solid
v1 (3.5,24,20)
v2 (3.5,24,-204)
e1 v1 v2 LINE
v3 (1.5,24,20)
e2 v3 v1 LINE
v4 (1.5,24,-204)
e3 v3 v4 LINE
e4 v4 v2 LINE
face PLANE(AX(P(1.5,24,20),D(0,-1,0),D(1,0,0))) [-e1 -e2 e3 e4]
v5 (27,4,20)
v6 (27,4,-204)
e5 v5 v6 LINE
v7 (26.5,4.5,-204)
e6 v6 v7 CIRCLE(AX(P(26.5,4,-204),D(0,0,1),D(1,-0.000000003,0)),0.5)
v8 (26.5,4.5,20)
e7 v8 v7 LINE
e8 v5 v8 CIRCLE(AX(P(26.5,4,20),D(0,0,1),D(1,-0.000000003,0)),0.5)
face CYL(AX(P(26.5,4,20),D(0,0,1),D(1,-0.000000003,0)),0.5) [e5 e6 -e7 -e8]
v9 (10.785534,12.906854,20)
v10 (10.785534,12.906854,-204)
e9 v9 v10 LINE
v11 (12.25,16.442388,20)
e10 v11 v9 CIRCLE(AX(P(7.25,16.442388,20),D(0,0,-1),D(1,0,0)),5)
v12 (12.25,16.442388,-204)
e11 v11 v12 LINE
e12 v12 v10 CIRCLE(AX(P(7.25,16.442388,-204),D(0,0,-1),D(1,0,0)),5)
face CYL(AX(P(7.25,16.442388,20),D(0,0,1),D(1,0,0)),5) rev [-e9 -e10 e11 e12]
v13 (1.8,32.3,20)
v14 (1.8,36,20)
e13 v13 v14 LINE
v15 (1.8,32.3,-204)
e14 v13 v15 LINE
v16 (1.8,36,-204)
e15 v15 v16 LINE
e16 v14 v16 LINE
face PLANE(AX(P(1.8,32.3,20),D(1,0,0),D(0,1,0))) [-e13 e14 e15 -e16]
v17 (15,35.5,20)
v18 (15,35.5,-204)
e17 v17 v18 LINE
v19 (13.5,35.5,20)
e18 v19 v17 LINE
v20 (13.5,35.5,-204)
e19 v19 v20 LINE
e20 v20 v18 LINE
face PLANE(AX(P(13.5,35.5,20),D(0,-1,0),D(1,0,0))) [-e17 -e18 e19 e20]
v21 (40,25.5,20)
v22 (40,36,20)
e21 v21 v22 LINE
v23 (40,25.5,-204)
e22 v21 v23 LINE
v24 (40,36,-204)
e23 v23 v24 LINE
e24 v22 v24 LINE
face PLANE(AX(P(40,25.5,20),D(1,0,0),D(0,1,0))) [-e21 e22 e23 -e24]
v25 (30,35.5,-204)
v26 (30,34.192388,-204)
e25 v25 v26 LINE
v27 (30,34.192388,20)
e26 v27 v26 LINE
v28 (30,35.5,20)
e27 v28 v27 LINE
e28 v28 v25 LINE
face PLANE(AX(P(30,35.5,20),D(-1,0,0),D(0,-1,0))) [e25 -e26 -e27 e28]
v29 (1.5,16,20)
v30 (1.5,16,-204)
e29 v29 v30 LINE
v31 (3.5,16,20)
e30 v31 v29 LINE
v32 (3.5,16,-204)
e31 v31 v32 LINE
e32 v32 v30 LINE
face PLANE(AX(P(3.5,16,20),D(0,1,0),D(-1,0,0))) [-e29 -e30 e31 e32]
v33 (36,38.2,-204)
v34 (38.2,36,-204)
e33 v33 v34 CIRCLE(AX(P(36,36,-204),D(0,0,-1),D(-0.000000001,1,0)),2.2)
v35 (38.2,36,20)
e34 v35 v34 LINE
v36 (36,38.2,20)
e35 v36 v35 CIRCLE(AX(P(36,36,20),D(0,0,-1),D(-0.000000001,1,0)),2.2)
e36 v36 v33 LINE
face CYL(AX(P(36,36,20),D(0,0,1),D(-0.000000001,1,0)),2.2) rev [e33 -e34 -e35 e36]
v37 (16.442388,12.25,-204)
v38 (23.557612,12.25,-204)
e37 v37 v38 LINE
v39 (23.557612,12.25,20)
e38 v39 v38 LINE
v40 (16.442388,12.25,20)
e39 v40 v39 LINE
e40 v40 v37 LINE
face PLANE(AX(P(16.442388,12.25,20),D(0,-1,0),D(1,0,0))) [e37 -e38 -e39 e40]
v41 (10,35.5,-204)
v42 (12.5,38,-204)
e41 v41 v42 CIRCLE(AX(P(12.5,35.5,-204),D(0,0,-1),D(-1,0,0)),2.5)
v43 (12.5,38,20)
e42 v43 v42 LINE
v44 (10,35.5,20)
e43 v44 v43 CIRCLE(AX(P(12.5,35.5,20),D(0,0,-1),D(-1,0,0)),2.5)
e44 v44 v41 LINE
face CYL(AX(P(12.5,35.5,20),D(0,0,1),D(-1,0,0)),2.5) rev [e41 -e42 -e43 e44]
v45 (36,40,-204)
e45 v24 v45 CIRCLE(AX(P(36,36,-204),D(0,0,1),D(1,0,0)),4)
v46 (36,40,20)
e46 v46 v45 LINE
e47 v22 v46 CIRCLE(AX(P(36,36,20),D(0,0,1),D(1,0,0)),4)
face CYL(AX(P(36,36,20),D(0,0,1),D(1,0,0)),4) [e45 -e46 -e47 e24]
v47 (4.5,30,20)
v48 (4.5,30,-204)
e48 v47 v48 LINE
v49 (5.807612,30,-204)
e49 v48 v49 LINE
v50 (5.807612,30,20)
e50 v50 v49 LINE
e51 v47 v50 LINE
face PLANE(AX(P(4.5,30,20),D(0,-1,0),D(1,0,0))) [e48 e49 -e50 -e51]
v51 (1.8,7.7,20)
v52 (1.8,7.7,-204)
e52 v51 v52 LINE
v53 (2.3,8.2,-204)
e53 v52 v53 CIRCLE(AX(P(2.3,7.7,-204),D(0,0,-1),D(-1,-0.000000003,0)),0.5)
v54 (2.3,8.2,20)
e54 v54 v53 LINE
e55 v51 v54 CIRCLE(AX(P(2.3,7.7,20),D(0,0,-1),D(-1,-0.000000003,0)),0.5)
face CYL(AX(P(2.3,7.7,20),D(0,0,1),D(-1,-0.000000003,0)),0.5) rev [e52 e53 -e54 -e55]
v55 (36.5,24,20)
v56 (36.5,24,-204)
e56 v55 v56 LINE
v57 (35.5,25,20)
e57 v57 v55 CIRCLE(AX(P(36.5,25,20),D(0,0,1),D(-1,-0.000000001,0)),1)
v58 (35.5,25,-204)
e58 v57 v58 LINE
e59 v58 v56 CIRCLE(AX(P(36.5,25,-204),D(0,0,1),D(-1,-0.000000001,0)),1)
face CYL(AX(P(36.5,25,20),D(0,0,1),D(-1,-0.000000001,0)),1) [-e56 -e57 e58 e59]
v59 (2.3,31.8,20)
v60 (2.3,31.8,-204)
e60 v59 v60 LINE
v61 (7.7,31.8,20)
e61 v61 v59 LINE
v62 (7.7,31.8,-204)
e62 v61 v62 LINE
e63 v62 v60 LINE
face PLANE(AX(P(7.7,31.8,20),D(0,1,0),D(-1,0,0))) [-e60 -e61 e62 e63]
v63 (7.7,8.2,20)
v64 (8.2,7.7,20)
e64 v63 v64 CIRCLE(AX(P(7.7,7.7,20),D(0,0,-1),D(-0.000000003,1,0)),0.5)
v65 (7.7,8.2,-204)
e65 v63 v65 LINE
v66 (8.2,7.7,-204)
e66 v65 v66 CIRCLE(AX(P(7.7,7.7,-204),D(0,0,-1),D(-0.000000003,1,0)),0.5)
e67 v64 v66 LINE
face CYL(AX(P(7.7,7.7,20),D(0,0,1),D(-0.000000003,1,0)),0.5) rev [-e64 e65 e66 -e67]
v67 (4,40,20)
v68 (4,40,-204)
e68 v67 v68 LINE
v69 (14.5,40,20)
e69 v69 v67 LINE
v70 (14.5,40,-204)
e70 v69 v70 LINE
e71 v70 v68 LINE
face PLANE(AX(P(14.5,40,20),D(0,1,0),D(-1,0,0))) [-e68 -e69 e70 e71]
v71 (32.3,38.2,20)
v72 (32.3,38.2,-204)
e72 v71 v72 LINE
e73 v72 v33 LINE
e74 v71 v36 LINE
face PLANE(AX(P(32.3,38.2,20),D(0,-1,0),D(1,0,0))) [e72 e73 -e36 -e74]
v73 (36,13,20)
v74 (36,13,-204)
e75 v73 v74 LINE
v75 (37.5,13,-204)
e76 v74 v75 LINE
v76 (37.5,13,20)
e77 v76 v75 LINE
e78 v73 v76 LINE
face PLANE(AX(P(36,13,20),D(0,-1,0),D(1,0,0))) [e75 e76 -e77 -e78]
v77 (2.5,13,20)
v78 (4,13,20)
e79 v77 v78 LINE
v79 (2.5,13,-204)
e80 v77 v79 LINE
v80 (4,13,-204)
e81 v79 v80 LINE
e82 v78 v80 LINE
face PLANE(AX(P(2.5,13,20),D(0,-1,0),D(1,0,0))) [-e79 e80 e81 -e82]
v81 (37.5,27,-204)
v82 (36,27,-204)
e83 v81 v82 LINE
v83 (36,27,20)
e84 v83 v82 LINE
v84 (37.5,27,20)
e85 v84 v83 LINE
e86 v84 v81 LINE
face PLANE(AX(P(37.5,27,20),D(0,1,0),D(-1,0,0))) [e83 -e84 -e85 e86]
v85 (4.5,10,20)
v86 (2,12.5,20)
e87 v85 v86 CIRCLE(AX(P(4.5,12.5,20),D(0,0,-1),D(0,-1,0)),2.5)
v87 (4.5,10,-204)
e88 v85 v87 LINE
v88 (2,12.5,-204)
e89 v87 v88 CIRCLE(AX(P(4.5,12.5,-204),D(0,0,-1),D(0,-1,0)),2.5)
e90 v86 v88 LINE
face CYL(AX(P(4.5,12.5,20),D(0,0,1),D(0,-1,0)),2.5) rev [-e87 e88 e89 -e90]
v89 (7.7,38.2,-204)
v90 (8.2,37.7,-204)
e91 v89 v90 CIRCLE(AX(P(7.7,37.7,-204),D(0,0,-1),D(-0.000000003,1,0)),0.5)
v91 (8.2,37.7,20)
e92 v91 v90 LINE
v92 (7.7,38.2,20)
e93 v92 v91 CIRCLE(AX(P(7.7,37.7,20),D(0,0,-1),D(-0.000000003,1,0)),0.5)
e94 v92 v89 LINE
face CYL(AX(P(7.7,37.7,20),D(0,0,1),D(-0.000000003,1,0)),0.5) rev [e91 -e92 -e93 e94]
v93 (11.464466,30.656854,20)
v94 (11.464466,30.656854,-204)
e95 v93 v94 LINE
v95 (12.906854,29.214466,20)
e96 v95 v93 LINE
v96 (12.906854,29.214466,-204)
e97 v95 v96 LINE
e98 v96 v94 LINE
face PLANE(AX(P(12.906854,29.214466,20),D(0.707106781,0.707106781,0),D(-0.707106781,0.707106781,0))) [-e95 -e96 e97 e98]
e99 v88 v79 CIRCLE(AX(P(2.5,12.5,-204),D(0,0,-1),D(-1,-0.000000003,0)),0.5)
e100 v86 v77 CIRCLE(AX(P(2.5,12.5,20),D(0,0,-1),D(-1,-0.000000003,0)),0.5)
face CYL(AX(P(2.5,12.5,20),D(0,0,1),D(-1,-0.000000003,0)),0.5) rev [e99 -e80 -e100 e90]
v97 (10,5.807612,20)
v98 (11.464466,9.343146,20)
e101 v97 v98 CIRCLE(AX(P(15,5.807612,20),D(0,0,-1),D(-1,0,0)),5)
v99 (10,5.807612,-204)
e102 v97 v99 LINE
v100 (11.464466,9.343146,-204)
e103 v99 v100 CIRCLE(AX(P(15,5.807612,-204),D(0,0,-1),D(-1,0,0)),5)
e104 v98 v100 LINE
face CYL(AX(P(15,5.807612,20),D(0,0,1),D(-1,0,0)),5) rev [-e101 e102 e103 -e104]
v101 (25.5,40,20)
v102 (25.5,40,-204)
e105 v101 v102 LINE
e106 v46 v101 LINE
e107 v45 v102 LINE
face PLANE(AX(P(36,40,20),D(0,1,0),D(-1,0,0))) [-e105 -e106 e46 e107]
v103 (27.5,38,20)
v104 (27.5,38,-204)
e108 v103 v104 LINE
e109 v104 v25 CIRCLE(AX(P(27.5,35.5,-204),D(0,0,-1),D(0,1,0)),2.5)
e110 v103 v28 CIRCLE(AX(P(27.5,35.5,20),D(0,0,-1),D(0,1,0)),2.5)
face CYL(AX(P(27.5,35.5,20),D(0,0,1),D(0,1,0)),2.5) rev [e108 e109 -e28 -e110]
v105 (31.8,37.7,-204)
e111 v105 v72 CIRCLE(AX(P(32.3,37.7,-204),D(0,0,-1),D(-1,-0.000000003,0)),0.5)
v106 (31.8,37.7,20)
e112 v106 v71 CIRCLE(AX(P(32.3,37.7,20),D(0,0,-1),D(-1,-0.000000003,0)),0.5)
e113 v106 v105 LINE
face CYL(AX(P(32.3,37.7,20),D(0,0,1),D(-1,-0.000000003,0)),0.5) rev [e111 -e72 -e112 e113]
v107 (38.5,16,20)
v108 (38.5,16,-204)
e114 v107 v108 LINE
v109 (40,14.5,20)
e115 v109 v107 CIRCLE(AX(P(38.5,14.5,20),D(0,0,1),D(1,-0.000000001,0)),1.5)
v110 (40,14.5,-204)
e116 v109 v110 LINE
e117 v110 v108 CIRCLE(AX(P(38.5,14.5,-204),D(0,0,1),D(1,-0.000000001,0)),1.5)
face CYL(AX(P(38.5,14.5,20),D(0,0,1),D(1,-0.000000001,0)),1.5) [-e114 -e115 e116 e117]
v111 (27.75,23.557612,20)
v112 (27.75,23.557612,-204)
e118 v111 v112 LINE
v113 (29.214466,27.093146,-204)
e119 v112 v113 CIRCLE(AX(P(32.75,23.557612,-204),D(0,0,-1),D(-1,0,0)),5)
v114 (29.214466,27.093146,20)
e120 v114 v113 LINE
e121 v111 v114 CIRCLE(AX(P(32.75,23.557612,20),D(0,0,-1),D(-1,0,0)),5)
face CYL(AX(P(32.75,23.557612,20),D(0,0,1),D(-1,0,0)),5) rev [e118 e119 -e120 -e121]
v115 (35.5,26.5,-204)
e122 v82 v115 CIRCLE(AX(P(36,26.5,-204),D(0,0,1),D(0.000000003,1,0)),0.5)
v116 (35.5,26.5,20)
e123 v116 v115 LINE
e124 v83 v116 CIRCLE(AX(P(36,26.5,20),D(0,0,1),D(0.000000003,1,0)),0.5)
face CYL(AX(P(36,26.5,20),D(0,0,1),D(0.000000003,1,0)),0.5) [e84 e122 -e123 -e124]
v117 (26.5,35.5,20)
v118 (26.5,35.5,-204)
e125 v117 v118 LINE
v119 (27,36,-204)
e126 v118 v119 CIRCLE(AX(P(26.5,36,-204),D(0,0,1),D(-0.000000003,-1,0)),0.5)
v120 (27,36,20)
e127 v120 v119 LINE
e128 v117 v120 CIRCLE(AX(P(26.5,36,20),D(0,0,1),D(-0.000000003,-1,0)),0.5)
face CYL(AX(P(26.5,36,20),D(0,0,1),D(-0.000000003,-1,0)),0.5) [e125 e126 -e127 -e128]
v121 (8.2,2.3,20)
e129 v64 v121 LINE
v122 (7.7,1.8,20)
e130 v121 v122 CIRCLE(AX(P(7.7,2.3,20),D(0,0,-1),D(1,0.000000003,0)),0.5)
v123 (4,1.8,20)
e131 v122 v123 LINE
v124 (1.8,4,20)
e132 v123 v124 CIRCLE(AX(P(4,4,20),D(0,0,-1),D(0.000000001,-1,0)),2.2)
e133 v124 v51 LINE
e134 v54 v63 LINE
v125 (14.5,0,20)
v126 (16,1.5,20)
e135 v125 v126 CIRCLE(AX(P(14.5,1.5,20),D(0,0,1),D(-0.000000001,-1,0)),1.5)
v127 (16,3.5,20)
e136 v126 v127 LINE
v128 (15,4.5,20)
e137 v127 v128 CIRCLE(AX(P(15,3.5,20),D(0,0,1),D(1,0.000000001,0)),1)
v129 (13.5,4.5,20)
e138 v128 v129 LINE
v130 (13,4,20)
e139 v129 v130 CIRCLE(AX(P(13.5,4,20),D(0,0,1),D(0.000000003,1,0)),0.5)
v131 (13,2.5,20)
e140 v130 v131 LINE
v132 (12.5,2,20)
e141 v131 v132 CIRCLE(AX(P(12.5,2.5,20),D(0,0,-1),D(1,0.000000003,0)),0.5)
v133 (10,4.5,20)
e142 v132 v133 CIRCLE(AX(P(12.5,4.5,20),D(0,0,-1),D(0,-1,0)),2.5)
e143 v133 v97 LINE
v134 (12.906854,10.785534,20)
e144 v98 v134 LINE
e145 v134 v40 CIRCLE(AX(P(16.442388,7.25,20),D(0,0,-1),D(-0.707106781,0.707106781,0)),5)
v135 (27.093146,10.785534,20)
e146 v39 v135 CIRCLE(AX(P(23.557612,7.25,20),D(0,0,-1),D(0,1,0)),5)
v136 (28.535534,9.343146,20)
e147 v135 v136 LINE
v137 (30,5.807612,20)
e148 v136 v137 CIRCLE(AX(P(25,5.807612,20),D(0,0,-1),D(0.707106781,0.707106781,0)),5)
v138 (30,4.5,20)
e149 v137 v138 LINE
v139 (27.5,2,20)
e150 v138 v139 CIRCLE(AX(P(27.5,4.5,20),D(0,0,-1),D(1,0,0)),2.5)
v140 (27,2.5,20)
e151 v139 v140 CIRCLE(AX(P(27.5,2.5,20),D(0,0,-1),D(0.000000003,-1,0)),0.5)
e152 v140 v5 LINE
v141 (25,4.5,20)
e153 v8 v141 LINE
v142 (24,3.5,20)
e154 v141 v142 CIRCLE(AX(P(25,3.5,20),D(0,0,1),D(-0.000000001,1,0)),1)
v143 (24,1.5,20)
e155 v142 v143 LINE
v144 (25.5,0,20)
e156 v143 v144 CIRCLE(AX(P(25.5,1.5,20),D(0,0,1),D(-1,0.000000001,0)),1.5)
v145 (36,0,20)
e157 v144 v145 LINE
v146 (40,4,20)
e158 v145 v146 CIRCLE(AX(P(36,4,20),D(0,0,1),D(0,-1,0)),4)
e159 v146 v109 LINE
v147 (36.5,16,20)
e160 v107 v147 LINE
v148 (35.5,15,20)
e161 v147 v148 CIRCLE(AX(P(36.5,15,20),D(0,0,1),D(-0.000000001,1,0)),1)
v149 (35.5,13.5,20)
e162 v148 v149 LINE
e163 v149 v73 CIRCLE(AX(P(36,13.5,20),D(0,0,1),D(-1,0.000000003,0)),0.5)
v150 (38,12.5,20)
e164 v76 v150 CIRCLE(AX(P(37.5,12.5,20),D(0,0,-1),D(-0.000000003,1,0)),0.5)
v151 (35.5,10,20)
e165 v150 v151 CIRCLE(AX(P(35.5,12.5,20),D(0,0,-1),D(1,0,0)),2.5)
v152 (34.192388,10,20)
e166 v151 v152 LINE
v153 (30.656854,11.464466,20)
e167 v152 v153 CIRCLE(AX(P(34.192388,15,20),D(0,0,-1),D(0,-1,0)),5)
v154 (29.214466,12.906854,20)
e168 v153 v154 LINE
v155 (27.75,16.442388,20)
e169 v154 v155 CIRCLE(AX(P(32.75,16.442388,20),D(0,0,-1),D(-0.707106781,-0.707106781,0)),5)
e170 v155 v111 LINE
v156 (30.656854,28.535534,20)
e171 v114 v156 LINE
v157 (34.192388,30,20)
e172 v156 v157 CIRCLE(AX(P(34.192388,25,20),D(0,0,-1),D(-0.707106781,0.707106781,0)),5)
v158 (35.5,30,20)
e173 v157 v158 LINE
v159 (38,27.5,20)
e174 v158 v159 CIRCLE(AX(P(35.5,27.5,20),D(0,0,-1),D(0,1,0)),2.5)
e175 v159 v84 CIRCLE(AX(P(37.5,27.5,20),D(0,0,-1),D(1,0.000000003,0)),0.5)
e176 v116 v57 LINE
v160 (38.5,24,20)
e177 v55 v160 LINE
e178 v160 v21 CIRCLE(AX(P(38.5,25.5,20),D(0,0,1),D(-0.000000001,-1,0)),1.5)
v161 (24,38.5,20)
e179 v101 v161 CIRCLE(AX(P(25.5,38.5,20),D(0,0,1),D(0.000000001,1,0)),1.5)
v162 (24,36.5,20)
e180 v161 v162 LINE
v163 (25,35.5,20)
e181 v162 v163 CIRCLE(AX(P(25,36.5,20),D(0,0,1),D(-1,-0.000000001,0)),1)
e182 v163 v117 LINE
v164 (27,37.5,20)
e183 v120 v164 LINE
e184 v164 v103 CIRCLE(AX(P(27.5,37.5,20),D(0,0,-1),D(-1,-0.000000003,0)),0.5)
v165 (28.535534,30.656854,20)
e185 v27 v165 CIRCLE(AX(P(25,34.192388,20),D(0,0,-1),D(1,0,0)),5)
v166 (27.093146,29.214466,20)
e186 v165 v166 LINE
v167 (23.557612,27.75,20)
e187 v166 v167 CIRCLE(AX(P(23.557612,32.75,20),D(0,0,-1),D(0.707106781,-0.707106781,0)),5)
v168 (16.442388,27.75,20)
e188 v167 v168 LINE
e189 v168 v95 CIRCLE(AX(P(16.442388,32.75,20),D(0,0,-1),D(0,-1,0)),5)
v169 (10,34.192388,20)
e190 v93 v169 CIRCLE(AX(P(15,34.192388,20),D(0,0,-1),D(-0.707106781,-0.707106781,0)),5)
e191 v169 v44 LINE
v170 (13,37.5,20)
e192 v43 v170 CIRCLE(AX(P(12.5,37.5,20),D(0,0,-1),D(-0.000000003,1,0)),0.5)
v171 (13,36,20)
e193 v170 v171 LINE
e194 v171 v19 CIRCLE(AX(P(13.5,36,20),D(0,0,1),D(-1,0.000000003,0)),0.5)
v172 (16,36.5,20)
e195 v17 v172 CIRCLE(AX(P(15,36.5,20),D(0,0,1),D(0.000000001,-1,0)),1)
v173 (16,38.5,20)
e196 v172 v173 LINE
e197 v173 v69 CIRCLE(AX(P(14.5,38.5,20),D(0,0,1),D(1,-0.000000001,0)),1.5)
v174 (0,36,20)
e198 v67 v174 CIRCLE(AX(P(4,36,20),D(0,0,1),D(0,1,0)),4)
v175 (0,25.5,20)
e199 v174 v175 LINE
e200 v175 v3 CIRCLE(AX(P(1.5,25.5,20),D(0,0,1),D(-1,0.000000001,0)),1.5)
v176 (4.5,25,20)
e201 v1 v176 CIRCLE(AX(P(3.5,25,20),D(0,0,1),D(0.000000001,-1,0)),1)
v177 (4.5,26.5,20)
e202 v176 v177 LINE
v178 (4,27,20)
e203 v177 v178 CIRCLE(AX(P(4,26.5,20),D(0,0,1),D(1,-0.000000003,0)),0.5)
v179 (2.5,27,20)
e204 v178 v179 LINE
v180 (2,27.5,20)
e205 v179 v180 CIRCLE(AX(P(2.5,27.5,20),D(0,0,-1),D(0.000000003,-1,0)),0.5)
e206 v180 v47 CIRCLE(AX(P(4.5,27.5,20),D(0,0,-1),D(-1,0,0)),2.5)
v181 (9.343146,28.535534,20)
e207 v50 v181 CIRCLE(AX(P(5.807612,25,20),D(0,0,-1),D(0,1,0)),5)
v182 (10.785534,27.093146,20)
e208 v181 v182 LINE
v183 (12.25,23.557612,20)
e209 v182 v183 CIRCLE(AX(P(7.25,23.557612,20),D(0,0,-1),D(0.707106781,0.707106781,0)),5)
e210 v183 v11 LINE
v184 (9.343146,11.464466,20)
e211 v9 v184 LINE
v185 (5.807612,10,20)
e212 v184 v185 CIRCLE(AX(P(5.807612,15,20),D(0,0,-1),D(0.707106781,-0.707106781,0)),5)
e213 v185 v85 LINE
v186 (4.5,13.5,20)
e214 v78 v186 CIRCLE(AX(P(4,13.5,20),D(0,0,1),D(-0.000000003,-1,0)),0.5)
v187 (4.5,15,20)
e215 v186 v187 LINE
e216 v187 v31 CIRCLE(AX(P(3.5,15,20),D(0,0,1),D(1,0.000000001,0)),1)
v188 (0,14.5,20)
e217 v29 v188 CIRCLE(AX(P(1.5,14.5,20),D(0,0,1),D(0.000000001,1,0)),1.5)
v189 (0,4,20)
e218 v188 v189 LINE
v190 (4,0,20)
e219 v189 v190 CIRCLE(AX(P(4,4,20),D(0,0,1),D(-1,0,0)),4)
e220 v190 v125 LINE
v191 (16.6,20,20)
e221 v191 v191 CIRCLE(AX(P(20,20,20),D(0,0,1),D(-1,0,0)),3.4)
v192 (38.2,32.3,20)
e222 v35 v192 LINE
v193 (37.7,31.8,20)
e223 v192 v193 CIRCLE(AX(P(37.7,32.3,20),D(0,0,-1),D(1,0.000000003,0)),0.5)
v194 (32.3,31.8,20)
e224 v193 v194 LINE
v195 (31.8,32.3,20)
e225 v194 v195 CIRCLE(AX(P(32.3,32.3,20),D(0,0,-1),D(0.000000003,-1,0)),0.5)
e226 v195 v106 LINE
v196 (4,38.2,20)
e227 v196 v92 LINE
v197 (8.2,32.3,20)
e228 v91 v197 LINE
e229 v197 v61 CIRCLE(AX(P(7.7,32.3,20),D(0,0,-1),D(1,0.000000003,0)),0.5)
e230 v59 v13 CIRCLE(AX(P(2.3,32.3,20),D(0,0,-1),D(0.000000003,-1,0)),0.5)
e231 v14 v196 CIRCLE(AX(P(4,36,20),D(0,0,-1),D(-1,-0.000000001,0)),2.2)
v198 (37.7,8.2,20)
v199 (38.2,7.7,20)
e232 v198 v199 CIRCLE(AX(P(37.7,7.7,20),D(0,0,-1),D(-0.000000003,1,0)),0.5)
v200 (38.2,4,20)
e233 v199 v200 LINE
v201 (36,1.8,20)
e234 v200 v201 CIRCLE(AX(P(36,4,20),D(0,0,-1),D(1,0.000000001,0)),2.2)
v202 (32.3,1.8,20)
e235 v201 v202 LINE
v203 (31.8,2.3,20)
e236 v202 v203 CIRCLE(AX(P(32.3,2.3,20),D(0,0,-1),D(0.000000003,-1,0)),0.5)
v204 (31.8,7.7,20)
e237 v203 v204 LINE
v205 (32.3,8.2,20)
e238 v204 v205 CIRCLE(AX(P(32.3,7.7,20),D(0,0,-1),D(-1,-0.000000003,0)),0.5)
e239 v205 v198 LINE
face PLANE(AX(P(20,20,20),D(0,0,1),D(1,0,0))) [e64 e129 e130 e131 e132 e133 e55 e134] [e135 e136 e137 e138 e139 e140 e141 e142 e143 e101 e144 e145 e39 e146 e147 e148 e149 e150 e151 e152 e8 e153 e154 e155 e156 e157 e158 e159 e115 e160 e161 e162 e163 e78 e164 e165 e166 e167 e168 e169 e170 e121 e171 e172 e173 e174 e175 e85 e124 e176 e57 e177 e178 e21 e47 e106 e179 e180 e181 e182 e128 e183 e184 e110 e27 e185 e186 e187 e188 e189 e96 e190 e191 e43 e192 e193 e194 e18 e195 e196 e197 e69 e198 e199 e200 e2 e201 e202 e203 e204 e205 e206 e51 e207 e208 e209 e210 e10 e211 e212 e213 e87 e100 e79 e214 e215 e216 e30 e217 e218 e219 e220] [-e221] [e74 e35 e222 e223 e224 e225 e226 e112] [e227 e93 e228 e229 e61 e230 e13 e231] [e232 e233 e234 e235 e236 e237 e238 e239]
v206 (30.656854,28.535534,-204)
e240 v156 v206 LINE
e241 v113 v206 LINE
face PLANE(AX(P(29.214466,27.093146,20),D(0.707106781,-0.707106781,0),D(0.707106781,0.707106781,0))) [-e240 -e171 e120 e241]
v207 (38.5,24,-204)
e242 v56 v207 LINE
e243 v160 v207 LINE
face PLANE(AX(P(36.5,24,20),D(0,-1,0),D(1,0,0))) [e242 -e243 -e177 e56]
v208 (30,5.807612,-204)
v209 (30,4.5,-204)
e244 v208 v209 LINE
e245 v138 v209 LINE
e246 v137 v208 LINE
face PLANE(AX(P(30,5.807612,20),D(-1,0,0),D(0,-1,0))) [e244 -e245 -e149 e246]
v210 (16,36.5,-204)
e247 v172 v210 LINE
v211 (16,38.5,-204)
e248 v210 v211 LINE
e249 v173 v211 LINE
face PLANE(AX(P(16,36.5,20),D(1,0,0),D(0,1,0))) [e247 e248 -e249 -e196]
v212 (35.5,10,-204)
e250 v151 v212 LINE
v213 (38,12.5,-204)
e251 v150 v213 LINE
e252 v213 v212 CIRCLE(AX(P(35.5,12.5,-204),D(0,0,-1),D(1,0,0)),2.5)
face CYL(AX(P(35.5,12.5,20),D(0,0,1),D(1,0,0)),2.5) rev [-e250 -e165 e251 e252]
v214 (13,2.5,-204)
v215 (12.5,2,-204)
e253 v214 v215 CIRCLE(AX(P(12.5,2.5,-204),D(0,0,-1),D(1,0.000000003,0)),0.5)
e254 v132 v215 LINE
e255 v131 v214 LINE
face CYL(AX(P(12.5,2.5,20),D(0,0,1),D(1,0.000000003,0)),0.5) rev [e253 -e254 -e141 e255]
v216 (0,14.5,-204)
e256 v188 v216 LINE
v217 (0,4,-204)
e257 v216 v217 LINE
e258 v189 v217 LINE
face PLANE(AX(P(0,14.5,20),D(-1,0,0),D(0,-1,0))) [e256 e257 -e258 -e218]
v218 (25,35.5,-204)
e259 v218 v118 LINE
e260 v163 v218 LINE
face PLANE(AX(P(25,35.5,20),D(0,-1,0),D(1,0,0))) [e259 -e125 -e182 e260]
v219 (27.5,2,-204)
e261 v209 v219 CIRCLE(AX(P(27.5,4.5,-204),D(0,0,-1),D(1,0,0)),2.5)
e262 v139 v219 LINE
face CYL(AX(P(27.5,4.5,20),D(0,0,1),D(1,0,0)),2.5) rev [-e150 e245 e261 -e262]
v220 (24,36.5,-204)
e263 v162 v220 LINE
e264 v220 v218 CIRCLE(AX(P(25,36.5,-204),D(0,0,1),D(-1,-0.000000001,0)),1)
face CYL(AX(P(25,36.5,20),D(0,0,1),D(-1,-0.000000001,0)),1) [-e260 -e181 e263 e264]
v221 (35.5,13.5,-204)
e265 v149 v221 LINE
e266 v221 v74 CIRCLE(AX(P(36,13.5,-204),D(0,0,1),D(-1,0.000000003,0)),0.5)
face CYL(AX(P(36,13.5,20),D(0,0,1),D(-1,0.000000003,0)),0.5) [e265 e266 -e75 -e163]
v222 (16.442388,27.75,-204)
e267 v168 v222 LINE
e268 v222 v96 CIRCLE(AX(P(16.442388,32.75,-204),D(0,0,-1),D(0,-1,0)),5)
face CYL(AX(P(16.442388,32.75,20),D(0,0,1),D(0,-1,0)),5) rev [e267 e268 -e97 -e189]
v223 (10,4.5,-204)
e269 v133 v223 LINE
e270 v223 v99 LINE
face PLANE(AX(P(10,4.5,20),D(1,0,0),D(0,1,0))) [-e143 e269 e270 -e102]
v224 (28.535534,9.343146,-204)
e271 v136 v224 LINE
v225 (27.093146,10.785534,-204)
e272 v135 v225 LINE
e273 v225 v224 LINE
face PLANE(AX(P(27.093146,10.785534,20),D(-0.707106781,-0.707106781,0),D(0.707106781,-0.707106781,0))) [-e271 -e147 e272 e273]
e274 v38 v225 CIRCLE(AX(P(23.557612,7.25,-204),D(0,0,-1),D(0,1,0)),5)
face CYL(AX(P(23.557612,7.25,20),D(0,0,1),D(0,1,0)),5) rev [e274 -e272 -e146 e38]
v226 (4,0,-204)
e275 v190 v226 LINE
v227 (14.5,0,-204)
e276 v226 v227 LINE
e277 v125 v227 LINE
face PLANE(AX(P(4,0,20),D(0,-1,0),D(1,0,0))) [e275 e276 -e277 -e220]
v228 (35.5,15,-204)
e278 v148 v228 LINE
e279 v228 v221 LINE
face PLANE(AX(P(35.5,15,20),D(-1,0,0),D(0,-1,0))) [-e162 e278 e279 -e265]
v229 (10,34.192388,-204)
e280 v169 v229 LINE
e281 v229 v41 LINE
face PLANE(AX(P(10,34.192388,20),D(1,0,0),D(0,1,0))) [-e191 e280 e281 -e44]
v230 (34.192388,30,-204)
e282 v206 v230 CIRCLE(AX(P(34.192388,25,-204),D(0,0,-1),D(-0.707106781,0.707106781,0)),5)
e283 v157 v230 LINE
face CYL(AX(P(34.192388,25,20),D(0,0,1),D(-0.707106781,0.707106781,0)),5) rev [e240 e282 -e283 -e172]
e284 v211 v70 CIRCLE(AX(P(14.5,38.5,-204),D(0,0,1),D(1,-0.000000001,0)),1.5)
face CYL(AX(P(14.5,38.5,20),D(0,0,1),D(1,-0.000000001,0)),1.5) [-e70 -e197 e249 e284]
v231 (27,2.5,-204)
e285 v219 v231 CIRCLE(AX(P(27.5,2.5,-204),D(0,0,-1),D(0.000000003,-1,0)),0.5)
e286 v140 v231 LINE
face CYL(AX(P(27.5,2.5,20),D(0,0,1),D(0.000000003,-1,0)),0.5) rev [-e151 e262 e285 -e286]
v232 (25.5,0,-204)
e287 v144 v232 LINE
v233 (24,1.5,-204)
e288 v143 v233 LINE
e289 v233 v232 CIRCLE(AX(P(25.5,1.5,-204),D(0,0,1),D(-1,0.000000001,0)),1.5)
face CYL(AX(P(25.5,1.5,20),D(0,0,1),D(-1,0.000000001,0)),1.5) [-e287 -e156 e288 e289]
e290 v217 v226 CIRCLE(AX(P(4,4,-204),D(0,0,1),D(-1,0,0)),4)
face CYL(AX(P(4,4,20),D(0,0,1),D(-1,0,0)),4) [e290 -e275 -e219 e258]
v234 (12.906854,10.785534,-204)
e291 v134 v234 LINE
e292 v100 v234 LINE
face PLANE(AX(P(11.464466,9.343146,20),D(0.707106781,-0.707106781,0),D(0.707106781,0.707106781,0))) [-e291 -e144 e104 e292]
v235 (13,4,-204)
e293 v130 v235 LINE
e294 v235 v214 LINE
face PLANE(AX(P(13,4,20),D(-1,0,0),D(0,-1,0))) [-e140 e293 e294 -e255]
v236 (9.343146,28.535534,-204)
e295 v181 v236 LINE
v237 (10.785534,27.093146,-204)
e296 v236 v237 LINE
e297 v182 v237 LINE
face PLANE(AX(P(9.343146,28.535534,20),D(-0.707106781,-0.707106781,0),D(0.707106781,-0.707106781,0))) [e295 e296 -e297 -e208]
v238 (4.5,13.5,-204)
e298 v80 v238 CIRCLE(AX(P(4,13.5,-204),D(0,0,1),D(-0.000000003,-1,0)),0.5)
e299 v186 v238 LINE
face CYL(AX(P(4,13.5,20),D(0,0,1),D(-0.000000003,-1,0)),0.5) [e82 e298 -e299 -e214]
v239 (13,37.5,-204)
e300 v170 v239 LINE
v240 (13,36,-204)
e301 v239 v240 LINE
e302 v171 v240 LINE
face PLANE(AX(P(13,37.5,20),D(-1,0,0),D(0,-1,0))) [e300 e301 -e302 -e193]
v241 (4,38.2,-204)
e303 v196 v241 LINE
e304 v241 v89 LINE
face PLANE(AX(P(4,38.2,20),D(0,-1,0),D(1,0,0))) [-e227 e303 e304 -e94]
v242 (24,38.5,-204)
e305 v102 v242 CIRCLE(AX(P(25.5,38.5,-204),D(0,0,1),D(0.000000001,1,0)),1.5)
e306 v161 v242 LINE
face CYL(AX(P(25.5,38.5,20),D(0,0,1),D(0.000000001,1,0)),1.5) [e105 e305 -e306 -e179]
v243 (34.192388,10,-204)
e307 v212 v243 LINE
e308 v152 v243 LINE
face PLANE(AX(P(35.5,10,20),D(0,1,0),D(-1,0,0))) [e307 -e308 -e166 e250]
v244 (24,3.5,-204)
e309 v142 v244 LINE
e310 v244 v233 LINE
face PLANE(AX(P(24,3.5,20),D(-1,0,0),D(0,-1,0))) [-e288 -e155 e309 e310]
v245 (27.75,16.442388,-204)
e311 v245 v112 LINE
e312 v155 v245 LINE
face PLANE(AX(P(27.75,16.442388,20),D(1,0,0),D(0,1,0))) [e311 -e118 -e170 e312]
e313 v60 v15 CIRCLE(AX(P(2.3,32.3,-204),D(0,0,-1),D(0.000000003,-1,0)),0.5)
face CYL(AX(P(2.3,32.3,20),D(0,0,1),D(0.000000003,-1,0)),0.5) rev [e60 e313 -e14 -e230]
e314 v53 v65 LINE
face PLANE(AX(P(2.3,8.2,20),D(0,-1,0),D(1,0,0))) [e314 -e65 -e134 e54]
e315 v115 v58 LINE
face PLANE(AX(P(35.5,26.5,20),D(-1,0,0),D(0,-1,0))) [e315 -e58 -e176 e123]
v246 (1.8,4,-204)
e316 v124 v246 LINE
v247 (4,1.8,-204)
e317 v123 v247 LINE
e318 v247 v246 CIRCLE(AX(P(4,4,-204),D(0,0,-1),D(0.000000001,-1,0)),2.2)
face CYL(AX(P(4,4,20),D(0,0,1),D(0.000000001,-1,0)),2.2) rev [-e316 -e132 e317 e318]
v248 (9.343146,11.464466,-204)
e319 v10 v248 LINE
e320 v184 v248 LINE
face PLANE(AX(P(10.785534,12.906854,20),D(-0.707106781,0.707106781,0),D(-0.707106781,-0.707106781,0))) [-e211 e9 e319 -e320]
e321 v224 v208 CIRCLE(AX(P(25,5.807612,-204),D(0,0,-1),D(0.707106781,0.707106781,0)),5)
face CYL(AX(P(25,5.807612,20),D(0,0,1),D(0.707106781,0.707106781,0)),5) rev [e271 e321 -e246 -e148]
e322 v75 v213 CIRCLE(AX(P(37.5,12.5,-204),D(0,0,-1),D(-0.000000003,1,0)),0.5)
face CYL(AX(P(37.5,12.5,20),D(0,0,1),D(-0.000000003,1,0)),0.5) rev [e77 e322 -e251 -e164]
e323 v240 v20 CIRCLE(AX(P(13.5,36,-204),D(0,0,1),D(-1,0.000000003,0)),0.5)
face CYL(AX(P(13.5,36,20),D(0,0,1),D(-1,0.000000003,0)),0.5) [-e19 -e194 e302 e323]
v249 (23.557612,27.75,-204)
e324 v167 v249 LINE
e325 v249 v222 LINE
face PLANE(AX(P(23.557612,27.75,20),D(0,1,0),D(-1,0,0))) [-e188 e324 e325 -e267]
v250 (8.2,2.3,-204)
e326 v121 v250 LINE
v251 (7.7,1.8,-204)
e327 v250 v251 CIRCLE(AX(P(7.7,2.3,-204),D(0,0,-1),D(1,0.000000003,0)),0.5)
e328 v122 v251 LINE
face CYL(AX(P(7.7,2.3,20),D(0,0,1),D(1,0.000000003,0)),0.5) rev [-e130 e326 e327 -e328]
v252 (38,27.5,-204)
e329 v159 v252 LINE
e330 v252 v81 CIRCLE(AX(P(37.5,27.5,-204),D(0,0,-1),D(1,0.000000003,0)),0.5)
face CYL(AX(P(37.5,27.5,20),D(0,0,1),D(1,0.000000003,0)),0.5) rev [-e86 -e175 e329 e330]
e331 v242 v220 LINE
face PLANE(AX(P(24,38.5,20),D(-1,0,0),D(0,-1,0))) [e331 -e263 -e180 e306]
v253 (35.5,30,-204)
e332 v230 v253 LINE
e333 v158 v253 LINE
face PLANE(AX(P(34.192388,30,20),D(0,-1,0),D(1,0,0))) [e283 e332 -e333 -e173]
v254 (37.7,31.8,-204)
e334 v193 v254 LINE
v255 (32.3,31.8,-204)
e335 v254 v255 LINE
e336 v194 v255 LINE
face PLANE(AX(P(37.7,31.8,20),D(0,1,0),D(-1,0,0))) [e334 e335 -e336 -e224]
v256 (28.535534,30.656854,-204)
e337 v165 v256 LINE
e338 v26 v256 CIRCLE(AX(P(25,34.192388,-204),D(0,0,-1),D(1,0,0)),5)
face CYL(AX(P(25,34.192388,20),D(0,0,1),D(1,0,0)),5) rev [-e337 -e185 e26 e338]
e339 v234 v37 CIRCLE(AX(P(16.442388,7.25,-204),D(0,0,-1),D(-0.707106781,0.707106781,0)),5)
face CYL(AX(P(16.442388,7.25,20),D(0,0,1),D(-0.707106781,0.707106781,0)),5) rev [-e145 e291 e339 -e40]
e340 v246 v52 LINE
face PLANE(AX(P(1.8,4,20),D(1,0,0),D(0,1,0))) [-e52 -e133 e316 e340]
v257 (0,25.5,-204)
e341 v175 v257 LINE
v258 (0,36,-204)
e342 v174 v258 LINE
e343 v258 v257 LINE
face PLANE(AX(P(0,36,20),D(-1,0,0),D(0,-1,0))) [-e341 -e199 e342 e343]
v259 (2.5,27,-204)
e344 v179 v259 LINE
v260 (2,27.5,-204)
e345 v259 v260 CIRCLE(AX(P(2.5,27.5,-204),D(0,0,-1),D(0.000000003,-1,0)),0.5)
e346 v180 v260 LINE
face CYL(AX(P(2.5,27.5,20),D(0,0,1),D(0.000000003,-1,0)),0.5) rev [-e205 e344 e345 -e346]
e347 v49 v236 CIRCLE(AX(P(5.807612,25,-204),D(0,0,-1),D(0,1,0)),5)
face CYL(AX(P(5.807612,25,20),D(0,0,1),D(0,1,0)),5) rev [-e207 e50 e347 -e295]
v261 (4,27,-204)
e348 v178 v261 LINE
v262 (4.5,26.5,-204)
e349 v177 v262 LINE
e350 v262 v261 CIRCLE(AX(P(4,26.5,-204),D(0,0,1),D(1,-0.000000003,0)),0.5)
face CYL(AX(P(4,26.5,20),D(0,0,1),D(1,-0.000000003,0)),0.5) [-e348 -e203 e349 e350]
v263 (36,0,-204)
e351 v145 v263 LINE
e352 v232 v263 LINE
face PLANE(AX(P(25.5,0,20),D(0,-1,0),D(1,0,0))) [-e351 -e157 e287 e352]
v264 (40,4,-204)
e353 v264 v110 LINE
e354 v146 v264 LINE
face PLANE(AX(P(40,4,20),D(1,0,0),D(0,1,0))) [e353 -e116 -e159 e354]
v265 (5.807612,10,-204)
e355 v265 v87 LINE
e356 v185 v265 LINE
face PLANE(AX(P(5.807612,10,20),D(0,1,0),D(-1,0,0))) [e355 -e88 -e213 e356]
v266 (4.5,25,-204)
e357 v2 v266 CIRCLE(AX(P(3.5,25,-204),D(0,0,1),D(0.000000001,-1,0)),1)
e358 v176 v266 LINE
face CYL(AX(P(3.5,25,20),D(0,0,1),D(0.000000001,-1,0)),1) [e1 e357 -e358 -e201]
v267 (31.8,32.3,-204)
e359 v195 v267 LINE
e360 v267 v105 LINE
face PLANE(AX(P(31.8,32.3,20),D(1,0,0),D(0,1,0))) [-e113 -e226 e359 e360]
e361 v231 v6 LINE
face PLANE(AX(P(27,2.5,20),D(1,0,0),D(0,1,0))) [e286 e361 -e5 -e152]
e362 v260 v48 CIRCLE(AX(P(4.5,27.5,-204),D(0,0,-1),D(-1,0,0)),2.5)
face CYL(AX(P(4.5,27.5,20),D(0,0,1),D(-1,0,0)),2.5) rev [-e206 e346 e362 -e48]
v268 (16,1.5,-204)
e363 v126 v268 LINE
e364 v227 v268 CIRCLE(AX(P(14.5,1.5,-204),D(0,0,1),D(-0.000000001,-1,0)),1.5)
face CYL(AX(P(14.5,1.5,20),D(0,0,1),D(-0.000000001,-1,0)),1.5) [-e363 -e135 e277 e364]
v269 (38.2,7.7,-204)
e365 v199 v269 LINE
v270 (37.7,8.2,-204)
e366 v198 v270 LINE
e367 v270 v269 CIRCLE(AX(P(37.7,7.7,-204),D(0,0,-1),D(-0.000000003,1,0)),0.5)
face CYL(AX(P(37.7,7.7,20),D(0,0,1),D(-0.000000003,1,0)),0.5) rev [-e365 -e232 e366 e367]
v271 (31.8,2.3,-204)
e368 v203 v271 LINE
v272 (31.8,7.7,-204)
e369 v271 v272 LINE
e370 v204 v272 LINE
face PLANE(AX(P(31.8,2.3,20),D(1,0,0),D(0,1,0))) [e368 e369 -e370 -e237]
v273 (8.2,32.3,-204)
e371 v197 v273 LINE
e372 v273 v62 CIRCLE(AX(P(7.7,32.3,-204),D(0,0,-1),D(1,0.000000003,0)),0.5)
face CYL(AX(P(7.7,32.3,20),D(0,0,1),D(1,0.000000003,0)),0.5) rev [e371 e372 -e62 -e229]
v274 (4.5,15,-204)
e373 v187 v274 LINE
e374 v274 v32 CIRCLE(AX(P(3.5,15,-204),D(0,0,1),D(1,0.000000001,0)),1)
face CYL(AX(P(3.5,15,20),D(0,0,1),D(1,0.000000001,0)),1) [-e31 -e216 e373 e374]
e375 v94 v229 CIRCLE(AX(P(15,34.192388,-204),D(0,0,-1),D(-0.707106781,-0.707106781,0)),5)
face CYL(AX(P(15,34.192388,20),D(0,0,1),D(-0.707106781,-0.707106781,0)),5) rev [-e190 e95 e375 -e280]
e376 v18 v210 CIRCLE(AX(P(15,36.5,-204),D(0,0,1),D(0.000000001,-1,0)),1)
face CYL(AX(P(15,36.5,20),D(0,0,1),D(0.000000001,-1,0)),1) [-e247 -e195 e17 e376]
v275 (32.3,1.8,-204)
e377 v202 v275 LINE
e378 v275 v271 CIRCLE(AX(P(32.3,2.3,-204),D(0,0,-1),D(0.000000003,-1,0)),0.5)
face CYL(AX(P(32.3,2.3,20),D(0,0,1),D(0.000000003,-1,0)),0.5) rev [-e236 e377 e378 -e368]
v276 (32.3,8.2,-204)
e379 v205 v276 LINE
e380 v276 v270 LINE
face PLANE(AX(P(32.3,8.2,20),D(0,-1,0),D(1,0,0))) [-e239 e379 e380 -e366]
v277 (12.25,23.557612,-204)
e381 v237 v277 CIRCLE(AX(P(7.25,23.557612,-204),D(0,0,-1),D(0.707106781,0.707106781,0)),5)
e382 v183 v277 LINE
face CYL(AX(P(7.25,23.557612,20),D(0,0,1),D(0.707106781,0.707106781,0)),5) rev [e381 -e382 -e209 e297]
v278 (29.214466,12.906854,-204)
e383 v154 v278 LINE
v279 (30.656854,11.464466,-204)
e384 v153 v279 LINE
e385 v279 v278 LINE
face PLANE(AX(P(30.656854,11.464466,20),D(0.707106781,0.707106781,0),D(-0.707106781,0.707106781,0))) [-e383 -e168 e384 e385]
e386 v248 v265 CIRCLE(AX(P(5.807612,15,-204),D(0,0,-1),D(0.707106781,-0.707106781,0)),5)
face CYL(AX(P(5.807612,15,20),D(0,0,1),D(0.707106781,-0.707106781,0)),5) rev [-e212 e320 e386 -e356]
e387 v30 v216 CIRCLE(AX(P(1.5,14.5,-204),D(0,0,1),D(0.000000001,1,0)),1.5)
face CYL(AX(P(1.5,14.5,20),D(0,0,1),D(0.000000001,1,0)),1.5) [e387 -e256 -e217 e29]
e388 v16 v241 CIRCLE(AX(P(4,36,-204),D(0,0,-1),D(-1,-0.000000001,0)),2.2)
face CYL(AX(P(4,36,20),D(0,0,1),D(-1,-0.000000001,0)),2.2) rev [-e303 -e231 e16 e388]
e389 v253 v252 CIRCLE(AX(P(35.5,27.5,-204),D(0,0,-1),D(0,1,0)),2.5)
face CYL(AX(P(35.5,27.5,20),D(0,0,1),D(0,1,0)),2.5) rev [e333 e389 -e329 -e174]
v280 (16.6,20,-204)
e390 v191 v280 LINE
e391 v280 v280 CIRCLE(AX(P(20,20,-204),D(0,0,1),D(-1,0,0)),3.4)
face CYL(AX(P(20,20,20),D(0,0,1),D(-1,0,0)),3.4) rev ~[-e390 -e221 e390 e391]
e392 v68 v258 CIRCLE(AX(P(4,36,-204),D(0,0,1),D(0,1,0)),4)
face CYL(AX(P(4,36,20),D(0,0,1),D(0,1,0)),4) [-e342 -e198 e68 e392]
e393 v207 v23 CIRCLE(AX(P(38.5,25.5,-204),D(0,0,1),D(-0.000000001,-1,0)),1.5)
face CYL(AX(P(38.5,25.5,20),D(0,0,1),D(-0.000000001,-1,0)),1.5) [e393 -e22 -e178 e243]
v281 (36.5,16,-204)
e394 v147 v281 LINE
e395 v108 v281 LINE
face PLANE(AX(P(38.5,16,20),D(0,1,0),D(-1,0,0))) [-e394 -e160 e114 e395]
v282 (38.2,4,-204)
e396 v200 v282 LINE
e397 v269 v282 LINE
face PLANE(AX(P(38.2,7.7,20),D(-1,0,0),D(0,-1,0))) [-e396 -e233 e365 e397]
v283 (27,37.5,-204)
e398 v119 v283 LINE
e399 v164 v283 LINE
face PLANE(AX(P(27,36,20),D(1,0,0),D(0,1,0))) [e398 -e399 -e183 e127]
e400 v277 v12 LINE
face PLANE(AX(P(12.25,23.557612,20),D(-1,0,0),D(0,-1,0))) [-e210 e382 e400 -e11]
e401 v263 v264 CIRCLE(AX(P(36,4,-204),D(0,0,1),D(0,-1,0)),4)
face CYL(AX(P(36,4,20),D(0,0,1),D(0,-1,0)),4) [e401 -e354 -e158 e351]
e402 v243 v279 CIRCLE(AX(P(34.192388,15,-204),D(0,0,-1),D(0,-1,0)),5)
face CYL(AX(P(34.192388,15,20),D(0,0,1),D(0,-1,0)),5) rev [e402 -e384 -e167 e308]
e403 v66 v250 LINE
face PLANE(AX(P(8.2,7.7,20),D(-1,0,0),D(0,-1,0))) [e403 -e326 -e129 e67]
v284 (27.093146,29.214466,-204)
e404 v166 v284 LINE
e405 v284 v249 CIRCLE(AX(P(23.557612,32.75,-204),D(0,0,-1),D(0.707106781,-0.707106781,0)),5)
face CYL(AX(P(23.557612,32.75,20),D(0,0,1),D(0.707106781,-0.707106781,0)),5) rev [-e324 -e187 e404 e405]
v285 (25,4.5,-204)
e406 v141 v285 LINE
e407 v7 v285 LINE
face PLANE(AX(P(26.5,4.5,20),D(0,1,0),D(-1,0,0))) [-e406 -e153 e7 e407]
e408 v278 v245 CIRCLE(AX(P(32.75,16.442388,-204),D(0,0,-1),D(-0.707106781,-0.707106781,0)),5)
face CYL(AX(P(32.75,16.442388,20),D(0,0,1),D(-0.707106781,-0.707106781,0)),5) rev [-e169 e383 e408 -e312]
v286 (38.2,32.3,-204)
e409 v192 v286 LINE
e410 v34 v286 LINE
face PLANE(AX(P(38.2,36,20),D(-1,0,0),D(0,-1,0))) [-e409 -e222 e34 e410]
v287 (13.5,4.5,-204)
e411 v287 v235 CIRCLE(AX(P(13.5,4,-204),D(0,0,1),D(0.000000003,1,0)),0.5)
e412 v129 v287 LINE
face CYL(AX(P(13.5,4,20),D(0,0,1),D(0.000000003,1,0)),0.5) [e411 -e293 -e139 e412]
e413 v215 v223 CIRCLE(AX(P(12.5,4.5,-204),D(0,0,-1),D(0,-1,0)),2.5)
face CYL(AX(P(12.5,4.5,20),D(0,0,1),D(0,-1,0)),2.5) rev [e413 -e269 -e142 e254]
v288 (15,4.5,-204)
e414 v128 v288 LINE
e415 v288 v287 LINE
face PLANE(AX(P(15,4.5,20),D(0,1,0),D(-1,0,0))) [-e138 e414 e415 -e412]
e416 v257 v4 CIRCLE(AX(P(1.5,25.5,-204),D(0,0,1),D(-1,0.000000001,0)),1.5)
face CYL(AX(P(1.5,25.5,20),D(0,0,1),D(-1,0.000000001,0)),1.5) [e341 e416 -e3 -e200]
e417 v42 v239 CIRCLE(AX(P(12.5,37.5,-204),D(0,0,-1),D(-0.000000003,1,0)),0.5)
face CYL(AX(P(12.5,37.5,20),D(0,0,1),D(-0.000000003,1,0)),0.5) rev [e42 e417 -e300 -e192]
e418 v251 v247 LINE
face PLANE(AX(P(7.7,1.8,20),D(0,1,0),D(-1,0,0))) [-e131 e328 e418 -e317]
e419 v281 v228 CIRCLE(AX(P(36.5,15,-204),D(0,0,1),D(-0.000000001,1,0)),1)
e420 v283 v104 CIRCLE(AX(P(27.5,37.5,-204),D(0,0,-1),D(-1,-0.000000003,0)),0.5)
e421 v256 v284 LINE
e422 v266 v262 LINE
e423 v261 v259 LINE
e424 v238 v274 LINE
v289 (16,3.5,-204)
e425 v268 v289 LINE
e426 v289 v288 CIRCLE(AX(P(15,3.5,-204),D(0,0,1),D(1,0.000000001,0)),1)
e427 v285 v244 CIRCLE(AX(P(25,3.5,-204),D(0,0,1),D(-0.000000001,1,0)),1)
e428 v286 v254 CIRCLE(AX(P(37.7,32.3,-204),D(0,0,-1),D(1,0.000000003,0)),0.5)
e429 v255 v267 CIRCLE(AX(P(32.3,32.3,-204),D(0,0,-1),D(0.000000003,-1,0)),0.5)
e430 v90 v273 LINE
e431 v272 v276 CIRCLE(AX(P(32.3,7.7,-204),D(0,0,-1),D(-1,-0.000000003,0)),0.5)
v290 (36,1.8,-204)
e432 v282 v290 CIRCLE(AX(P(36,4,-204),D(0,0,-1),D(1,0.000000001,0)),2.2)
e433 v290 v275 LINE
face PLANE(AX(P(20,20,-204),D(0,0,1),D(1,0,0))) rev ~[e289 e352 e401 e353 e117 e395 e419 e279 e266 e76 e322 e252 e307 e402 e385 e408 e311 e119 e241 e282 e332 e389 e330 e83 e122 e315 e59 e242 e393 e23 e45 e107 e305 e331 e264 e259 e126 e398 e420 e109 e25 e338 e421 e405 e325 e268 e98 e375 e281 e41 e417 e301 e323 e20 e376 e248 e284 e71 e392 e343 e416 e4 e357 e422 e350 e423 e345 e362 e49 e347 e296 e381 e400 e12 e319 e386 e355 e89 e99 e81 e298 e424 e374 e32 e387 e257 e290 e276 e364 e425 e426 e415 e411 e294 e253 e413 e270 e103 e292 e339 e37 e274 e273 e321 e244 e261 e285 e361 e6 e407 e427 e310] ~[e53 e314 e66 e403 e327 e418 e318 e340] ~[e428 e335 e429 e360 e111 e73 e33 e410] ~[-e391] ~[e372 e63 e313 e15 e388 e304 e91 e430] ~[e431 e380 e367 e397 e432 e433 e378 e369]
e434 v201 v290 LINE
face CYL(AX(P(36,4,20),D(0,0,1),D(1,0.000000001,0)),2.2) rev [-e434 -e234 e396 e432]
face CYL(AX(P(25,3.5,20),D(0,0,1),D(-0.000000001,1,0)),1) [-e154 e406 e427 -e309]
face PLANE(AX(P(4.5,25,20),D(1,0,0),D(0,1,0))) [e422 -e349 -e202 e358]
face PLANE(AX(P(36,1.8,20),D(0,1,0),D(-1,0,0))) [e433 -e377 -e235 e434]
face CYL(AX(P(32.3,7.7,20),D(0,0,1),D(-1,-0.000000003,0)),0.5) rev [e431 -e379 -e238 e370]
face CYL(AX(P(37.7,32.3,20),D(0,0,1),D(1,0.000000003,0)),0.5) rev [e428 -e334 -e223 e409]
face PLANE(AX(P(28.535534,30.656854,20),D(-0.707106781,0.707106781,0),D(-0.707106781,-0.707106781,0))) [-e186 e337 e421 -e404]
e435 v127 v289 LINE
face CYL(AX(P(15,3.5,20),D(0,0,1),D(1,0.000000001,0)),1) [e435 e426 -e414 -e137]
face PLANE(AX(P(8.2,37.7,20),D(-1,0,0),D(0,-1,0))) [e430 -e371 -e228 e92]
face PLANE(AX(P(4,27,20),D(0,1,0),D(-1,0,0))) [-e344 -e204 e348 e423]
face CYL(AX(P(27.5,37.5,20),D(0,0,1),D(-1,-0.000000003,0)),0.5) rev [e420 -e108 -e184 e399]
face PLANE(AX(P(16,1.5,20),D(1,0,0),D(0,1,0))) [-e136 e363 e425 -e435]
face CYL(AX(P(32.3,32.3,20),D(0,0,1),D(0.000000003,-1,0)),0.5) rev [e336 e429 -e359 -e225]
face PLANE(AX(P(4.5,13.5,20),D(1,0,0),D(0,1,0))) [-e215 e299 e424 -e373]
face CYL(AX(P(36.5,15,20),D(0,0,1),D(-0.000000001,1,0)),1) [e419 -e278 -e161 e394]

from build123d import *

# Parameters (mm, degrees)
ESQUISSE1_R      = 3.4
EXTRUSION1_DEPTH = 224


with BuildPart() as part:
    # Esquisse1 → Extrusion1 (new body)
    with BuildSketch(Plane.XY.offset(20)):
        with BuildLine():
            Line((3.5, 16), (1.5, 16))
            ThreePointArc((1.5, 16), (0.439339828, 15.560660172), (0, 14.5))
            Line((0, 14.5), (0, 4))
            ThreePointArc((0, 4), (1.171572875, 1.171572875), (4, 0))
            Line((4, 0), (14.5, 0))
            ThreePointArc((14.5, 0), (15.560660172, 0.439339828), (16, 1.5))
            Line((16, 1.5), (16, 3.5))
            ThreePointArc((16, 3.5), (15.707106781, 4.207106781), (15, 4.5))
            Line((15, 4.5), (13.5, 4.5))
            ThreePointArc((13.5, 4.5), (13.146446609, 4.353553391), (13, 4))
            Line((13, 4), (13, 2.5))
            ThreePointArc((13, 2.5), (12.853553391, 2.146446609), (12.5, 2))
            ThreePointArc((12.5, 2), (10.732233047, 2.732233047), (10, 4.5))
            Line((10, 4.5), (10, 5.807611845))
            ThreePointArc((10, 5.807611845), (10.380602337, 7.721029006), (11.464466094, 9.343145751))
            Line((11.464466094, 9.343145751), (12.906854249, 10.785533906))
            ThreePointArc((12.906854249, 10.785533906), (14.528970994, 11.869397663), (16.442388155, 12.25))
            Line((16.442388155, 12.25), (23.557611845, 12.25))
            ThreePointArc((23.557611845, 12.25), (25.471029006, 11.869397663), (27.093145751, 10.785533906))
            Line((27.093145751, 10.785533906), (28.535533906, 9.343145751))
            ThreePointArc((28.535533906, 9.343145751), (29.619397663, 7.721029006), (30, 5.807611845))
            Line((30, 5.807611845), (30, 4.5))
            ThreePointArc((30, 4.5), (29.267766953, 2.732233047), (27.5, 2))
            ThreePointArc((27.5, 2), (27.146446609, 2.146446609), (27, 2.5))
            Line((27, 2.5), (27, 4))
            ThreePointArc((27, 4), (26.853553391, 4.353553391), (26.5, 4.5))
            Line((26.5, 4.5), (25, 4.5))
            ThreePointArc((25, 4.5), (24.292893219, 4.207106781), (24, 3.5))
            Line((24, 3.5), (24, 1.5))
            ThreePointArc((24, 1.5), (24.439339828, 0.439339828), (25.5, 0))
            Line((25.5, 0), (36, 0))
            ThreePointArc((36, 0), (38.828427125, 1.171572875), (40, 4))
            Line((40, 4), (40, 14.5))
            ThreePointArc((40, 14.5), (39.560660172, 15.560660172), (38.5, 16))
            Line((38.5, 16), (36.5, 16))
            ThreePointArc((36.5, 16), (35.792893219, 15.707106781), (35.5, 15))
            Line((35.5, 15), (35.5, 13.5))
            ThreePointArc((35.5, 13.5), (35.646446609, 13.146446609), (36, 13))
            Line((36, 13), (37.5, 13))
            ThreePointArc((37.5, 13), (37.853553391, 12.853553391), (38, 12.5))
            ThreePointArc((38, 12.5), (37.267766953, 10.732233047), (35.5, 10))
            Line((35.5, 10), (34.192388155, 10))
            ThreePointArc((34.192388155, 10), (32.278970994, 10.380602337), (30.656854249, 11.464466094))
            Line((30.656854249, 11.464466094), (29.214466094, 12.906854249))
            ThreePointArc((29.214466094, 12.906854249), (28.130602337, 14.528970994), (27.75, 16.442388155))
            Line((27.75, 16.442388155), (27.75, 23.557611845))
            ThreePointArc((27.75, 23.557611845), (28.130602337, 25.471029006), (29.214466094, 27.093145751))
            Line((29.214466094, 27.093145751), (30.656854249, 28.535533906))
            ThreePointArc((30.656854249, 28.535533906), (32.278970994, 29.619397663), (34.192388155, 30))
            Line((34.192388155, 30), (35.5, 30))
            ThreePointArc((35.5, 30), (37.267766953, 29.267766953), (38, 27.5))
            ThreePointArc((38, 27.5), (37.853553391, 27.146446609), (37.5, 27))
            Line((37.5, 27), (36, 27))
            ThreePointArc((36, 27), (35.646446609, 26.853553391), (35.5, 26.5))
            Line((35.5, 26.5), (35.5, 25))
            ThreePointArc((35.5, 25), (35.792893219, 24.292893219), (36.5, 24))
            Line((36.5, 24), (38.5, 24))
            ThreePointArc((38.5, 24), (39.560660172, 24.439339828), (40, 25.5))
            Line((40, 25.5), (40, 36))
            ThreePointArc((40, 36), (38.828427125, 38.828427125), (36, 40))
            Line((36, 40), (25.5, 40))
            ThreePointArc((25.5, 40), (24.439339828, 39.560660172), (24, 38.5))
            Line((24, 38.5), (24, 36.5))
            ThreePointArc((24, 36.5), (24.292893219, 35.792893219), (25, 35.5))
            Line((25, 35.5), (26.5, 35.5))
            ThreePointArc((26.5, 35.5), (26.853553391, 35.646446609), (27, 36))
            Line((27, 36), (27, 37.5))
            ThreePointArc((27, 37.5), (27.146446609, 37.853553391), (27.5, 38))
            ThreePointArc((27.5, 38), (29.267766953, 37.267766953), (30, 35.5))
            Line((30, 35.5), (30, 34.192388155))
            ThreePointArc((30, 34.192388155), (29.619397663, 32.278970994), (28.535533906, 30.656854249))
            Line((28.535533906, 30.656854249), (27.093145751, 29.214466094))
            ThreePointArc((27.093145751, 29.214466094), (25.471029006, 28.130602337), (23.557611845, 27.75))
            Line((23.557611845, 27.75), (16.442388155, 27.75))
            ThreePointArc((16.442388155, 27.75), (14.528970994, 28.130602337), (12.906854249, 29.214466094))
            Line((12.906854249, 29.214466094), (11.464466094, 30.656854249))
            ThreePointArc((11.464466094, 30.656854249), (10.380602337, 32.278970994), (10, 34.192388155))
            Line((10, 34.192388155), (10, 35.5))
            ThreePointArc((10, 35.5), (10.732233047, 37.267766953), (12.5, 38))
            ThreePointArc((12.5, 38), (12.853553391, 37.853553391), (13, 37.5))
            Line((13, 37.5), (13, 36))
            ThreePointArc((13, 36), (13.146446609, 35.646446609), (13.5, 35.5))
            Line((13.5, 35.5), (15, 35.5))
            ThreePointArc((15, 35.5), (15.707106781, 35.792893219), (16, 36.5))
            Line((16, 36.5), (16, 38.5))
            ThreePointArc((16, 38.5), (15.560660172, 39.560660172), (14.5, 40))
            Line((14.5, 40), (4, 40))
            ThreePointArc((4, 40), (1.171572875, 38.828427125), (0, 36))
            Line((0, 36), (0, 25.5))
            ThreePointArc((0, 25.5), (0.439339828, 24.439339828), (1.5, 24))
            Line((1.5, 24), (3.5, 24))
            ThreePointArc((3.5, 24), (4.207106781, 24.292893219), (4.5, 25))
            Line((4.5, 25), (4.5, 26.5))
            ThreePointArc((4.5, 26.5), (4.353553391, 26.853553391), (4, 27))
            Line((4, 27), (2.5, 27))
            ThreePointArc((2.5, 27), (2.146446609, 27.146446609), (2, 27.5))
            ThreePointArc((2, 27.5), (2.732233047, 29.267766953), (4.5, 30))
            Line((4.5, 30), (5.807611845, 30))
            ThreePointArc((5.807611845, 30), (7.721029006, 29.619397663), (9.343145751, 28.535533906))
            Line((9.343145751, 28.535533906), (10.785533906, 27.093145751))
            ThreePointArc((10.785533906, 27.093145751), (11.869397663, 25.471029006), (12.25, 23.557611845))
            Line((12.25, 23.557611845), (12.25, 16.442388155))
            ThreePointArc((12.25, 16.442388155), (11.869397663, 14.528970994), (10.785533906, 12.906854249))
            Line((10.785533906, 12.906854249), (9.343145751, 11.464466094))
            ThreePointArc((9.343145751, 11.464466094), (7.721029006, 10.380602337), (5.807611845, 10))
            Line((5.807611845, 10), (4.5, 10))
            ThreePointArc((4.5, 10), (2.732233047, 10.732233047), (2, 12.5))
            ThreePointArc((2, 12.5), (2.146446609, 12.853553391), (2.5, 13))
            Line((2.5, 13), (4, 13))
            ThreePointArc((4, 13), (4.353553391, 13.146446609), (4.5, 13.5))
            Line((4.5, 13.5), (4.5, 15))
            ThreePointArc((4.5, 15), (4.207106781, 15.707106781), (3.5, 16))
        make_face()
        with Locations(Location((20, 20, 0), (0, 0, 180))):
            Circle(ESQUISSE1_R, mode=Mode.SUBTRACT)
        with BuildLine():
            Line((1.8, 4), (1.8, 7.7))
            ThreePointArc((1.8, 7.7), (1.946446609, 8.053553391), (2.3, 8.2))
            Line((2.3, 8.2), (7.7, 8.2))
            ThreePointArc((7.7, 8.2), (8.053553391, 8.053553391), (8.2, 7.7))
            Line((8.2, 7.7), (8.2, 2.3))
            ThreePointArc((8.2, 2.3), (8.053553391, 1.946446609), (7.7, 1.8))
            Line((7.7, 1.8), (4, 1.8))
            ThreePointArc((4, 1.8), (2.444365081, 2.444365081), (1.8, 4))
        make_face(mode=Mode.SUBTRACT)
        with BuildLine():
            Line((36, 1.8), (32.3, 1.8))
            ThreePointArc((32.3, 1.8), (31.946446609, 1.946446609), (31.8, 2.3))
            Line((31.8, 2.3), (31.8, 7.7))
            ThreePointArc((31.8, 7.7), (31.946446609, 8.053553391), (32.3, 8.2))
            Line((32.3, 8.2), (37.7, 8.2))
            ThreePointArc((37.7, 8.2), (38.053553391, 8.053553391), (38.2, 7.7))
            Line((38.2, 7.7), (38.2, 4))
            ThreePointArc((38.2, 4), (37.555634919, 2.444365081), (36, 1.8))
        make_face(mode=Mode.SUBTRACT)
        with BuildLine():
            Line((38.2, 36), (38.2, 32.3))
            ThreePointArc((38.2, 32.3), (38.053553391, 31.946446609), (37.7, 31.8))
            Line((37.7, 31.8), (32.3, 31.8))
            ThreePointArc((32.3, 31.8), (31.946446609, 31.946446609), (31.8, 32.3))
            Line((31.8, 32.3), (31.8, 37.7))
            ThreePointArc((31.8, 37.7), (31.946446609, 38.053553391), (32.3, 38.2))
            Line((32.3, 38.2), (36, 38.2))
            ThreePointArc((36, 38.2), (37.555634919, 37.555634919), (38.2, 36))
        make_face(mode=Mode.SUBTRACT)
        with BuildLine():
            Line((4, 38.2), (7.7, 38.2))
            ThreePointArc((7.7, 38.2), (8.053553391, 38.053553391), (8.2, 37.7))
            Line((8.2, 37.7), (8.2, 32.3))
            ThreePointArc((8.2, 32.3), (8.053553391, 31.946446609), (7.7, 31.8))
            Line((7.7, 31.8), (2.3, 31.8))
            ThreePointArc((2.3, 31.8), (1.946446609, 31.946446609), (1.8, 32.3))
            Line((1.8, 32.3), (1.8, 36))
            ThreePointArc((1.8, 36), (2.444365081, 37.555634919), (4, 38.2))
        make_face(mode=Mode.SUBTRACT)
    extrude(amount=-EXTRUSION1_DEPTH)


solid = part.part
